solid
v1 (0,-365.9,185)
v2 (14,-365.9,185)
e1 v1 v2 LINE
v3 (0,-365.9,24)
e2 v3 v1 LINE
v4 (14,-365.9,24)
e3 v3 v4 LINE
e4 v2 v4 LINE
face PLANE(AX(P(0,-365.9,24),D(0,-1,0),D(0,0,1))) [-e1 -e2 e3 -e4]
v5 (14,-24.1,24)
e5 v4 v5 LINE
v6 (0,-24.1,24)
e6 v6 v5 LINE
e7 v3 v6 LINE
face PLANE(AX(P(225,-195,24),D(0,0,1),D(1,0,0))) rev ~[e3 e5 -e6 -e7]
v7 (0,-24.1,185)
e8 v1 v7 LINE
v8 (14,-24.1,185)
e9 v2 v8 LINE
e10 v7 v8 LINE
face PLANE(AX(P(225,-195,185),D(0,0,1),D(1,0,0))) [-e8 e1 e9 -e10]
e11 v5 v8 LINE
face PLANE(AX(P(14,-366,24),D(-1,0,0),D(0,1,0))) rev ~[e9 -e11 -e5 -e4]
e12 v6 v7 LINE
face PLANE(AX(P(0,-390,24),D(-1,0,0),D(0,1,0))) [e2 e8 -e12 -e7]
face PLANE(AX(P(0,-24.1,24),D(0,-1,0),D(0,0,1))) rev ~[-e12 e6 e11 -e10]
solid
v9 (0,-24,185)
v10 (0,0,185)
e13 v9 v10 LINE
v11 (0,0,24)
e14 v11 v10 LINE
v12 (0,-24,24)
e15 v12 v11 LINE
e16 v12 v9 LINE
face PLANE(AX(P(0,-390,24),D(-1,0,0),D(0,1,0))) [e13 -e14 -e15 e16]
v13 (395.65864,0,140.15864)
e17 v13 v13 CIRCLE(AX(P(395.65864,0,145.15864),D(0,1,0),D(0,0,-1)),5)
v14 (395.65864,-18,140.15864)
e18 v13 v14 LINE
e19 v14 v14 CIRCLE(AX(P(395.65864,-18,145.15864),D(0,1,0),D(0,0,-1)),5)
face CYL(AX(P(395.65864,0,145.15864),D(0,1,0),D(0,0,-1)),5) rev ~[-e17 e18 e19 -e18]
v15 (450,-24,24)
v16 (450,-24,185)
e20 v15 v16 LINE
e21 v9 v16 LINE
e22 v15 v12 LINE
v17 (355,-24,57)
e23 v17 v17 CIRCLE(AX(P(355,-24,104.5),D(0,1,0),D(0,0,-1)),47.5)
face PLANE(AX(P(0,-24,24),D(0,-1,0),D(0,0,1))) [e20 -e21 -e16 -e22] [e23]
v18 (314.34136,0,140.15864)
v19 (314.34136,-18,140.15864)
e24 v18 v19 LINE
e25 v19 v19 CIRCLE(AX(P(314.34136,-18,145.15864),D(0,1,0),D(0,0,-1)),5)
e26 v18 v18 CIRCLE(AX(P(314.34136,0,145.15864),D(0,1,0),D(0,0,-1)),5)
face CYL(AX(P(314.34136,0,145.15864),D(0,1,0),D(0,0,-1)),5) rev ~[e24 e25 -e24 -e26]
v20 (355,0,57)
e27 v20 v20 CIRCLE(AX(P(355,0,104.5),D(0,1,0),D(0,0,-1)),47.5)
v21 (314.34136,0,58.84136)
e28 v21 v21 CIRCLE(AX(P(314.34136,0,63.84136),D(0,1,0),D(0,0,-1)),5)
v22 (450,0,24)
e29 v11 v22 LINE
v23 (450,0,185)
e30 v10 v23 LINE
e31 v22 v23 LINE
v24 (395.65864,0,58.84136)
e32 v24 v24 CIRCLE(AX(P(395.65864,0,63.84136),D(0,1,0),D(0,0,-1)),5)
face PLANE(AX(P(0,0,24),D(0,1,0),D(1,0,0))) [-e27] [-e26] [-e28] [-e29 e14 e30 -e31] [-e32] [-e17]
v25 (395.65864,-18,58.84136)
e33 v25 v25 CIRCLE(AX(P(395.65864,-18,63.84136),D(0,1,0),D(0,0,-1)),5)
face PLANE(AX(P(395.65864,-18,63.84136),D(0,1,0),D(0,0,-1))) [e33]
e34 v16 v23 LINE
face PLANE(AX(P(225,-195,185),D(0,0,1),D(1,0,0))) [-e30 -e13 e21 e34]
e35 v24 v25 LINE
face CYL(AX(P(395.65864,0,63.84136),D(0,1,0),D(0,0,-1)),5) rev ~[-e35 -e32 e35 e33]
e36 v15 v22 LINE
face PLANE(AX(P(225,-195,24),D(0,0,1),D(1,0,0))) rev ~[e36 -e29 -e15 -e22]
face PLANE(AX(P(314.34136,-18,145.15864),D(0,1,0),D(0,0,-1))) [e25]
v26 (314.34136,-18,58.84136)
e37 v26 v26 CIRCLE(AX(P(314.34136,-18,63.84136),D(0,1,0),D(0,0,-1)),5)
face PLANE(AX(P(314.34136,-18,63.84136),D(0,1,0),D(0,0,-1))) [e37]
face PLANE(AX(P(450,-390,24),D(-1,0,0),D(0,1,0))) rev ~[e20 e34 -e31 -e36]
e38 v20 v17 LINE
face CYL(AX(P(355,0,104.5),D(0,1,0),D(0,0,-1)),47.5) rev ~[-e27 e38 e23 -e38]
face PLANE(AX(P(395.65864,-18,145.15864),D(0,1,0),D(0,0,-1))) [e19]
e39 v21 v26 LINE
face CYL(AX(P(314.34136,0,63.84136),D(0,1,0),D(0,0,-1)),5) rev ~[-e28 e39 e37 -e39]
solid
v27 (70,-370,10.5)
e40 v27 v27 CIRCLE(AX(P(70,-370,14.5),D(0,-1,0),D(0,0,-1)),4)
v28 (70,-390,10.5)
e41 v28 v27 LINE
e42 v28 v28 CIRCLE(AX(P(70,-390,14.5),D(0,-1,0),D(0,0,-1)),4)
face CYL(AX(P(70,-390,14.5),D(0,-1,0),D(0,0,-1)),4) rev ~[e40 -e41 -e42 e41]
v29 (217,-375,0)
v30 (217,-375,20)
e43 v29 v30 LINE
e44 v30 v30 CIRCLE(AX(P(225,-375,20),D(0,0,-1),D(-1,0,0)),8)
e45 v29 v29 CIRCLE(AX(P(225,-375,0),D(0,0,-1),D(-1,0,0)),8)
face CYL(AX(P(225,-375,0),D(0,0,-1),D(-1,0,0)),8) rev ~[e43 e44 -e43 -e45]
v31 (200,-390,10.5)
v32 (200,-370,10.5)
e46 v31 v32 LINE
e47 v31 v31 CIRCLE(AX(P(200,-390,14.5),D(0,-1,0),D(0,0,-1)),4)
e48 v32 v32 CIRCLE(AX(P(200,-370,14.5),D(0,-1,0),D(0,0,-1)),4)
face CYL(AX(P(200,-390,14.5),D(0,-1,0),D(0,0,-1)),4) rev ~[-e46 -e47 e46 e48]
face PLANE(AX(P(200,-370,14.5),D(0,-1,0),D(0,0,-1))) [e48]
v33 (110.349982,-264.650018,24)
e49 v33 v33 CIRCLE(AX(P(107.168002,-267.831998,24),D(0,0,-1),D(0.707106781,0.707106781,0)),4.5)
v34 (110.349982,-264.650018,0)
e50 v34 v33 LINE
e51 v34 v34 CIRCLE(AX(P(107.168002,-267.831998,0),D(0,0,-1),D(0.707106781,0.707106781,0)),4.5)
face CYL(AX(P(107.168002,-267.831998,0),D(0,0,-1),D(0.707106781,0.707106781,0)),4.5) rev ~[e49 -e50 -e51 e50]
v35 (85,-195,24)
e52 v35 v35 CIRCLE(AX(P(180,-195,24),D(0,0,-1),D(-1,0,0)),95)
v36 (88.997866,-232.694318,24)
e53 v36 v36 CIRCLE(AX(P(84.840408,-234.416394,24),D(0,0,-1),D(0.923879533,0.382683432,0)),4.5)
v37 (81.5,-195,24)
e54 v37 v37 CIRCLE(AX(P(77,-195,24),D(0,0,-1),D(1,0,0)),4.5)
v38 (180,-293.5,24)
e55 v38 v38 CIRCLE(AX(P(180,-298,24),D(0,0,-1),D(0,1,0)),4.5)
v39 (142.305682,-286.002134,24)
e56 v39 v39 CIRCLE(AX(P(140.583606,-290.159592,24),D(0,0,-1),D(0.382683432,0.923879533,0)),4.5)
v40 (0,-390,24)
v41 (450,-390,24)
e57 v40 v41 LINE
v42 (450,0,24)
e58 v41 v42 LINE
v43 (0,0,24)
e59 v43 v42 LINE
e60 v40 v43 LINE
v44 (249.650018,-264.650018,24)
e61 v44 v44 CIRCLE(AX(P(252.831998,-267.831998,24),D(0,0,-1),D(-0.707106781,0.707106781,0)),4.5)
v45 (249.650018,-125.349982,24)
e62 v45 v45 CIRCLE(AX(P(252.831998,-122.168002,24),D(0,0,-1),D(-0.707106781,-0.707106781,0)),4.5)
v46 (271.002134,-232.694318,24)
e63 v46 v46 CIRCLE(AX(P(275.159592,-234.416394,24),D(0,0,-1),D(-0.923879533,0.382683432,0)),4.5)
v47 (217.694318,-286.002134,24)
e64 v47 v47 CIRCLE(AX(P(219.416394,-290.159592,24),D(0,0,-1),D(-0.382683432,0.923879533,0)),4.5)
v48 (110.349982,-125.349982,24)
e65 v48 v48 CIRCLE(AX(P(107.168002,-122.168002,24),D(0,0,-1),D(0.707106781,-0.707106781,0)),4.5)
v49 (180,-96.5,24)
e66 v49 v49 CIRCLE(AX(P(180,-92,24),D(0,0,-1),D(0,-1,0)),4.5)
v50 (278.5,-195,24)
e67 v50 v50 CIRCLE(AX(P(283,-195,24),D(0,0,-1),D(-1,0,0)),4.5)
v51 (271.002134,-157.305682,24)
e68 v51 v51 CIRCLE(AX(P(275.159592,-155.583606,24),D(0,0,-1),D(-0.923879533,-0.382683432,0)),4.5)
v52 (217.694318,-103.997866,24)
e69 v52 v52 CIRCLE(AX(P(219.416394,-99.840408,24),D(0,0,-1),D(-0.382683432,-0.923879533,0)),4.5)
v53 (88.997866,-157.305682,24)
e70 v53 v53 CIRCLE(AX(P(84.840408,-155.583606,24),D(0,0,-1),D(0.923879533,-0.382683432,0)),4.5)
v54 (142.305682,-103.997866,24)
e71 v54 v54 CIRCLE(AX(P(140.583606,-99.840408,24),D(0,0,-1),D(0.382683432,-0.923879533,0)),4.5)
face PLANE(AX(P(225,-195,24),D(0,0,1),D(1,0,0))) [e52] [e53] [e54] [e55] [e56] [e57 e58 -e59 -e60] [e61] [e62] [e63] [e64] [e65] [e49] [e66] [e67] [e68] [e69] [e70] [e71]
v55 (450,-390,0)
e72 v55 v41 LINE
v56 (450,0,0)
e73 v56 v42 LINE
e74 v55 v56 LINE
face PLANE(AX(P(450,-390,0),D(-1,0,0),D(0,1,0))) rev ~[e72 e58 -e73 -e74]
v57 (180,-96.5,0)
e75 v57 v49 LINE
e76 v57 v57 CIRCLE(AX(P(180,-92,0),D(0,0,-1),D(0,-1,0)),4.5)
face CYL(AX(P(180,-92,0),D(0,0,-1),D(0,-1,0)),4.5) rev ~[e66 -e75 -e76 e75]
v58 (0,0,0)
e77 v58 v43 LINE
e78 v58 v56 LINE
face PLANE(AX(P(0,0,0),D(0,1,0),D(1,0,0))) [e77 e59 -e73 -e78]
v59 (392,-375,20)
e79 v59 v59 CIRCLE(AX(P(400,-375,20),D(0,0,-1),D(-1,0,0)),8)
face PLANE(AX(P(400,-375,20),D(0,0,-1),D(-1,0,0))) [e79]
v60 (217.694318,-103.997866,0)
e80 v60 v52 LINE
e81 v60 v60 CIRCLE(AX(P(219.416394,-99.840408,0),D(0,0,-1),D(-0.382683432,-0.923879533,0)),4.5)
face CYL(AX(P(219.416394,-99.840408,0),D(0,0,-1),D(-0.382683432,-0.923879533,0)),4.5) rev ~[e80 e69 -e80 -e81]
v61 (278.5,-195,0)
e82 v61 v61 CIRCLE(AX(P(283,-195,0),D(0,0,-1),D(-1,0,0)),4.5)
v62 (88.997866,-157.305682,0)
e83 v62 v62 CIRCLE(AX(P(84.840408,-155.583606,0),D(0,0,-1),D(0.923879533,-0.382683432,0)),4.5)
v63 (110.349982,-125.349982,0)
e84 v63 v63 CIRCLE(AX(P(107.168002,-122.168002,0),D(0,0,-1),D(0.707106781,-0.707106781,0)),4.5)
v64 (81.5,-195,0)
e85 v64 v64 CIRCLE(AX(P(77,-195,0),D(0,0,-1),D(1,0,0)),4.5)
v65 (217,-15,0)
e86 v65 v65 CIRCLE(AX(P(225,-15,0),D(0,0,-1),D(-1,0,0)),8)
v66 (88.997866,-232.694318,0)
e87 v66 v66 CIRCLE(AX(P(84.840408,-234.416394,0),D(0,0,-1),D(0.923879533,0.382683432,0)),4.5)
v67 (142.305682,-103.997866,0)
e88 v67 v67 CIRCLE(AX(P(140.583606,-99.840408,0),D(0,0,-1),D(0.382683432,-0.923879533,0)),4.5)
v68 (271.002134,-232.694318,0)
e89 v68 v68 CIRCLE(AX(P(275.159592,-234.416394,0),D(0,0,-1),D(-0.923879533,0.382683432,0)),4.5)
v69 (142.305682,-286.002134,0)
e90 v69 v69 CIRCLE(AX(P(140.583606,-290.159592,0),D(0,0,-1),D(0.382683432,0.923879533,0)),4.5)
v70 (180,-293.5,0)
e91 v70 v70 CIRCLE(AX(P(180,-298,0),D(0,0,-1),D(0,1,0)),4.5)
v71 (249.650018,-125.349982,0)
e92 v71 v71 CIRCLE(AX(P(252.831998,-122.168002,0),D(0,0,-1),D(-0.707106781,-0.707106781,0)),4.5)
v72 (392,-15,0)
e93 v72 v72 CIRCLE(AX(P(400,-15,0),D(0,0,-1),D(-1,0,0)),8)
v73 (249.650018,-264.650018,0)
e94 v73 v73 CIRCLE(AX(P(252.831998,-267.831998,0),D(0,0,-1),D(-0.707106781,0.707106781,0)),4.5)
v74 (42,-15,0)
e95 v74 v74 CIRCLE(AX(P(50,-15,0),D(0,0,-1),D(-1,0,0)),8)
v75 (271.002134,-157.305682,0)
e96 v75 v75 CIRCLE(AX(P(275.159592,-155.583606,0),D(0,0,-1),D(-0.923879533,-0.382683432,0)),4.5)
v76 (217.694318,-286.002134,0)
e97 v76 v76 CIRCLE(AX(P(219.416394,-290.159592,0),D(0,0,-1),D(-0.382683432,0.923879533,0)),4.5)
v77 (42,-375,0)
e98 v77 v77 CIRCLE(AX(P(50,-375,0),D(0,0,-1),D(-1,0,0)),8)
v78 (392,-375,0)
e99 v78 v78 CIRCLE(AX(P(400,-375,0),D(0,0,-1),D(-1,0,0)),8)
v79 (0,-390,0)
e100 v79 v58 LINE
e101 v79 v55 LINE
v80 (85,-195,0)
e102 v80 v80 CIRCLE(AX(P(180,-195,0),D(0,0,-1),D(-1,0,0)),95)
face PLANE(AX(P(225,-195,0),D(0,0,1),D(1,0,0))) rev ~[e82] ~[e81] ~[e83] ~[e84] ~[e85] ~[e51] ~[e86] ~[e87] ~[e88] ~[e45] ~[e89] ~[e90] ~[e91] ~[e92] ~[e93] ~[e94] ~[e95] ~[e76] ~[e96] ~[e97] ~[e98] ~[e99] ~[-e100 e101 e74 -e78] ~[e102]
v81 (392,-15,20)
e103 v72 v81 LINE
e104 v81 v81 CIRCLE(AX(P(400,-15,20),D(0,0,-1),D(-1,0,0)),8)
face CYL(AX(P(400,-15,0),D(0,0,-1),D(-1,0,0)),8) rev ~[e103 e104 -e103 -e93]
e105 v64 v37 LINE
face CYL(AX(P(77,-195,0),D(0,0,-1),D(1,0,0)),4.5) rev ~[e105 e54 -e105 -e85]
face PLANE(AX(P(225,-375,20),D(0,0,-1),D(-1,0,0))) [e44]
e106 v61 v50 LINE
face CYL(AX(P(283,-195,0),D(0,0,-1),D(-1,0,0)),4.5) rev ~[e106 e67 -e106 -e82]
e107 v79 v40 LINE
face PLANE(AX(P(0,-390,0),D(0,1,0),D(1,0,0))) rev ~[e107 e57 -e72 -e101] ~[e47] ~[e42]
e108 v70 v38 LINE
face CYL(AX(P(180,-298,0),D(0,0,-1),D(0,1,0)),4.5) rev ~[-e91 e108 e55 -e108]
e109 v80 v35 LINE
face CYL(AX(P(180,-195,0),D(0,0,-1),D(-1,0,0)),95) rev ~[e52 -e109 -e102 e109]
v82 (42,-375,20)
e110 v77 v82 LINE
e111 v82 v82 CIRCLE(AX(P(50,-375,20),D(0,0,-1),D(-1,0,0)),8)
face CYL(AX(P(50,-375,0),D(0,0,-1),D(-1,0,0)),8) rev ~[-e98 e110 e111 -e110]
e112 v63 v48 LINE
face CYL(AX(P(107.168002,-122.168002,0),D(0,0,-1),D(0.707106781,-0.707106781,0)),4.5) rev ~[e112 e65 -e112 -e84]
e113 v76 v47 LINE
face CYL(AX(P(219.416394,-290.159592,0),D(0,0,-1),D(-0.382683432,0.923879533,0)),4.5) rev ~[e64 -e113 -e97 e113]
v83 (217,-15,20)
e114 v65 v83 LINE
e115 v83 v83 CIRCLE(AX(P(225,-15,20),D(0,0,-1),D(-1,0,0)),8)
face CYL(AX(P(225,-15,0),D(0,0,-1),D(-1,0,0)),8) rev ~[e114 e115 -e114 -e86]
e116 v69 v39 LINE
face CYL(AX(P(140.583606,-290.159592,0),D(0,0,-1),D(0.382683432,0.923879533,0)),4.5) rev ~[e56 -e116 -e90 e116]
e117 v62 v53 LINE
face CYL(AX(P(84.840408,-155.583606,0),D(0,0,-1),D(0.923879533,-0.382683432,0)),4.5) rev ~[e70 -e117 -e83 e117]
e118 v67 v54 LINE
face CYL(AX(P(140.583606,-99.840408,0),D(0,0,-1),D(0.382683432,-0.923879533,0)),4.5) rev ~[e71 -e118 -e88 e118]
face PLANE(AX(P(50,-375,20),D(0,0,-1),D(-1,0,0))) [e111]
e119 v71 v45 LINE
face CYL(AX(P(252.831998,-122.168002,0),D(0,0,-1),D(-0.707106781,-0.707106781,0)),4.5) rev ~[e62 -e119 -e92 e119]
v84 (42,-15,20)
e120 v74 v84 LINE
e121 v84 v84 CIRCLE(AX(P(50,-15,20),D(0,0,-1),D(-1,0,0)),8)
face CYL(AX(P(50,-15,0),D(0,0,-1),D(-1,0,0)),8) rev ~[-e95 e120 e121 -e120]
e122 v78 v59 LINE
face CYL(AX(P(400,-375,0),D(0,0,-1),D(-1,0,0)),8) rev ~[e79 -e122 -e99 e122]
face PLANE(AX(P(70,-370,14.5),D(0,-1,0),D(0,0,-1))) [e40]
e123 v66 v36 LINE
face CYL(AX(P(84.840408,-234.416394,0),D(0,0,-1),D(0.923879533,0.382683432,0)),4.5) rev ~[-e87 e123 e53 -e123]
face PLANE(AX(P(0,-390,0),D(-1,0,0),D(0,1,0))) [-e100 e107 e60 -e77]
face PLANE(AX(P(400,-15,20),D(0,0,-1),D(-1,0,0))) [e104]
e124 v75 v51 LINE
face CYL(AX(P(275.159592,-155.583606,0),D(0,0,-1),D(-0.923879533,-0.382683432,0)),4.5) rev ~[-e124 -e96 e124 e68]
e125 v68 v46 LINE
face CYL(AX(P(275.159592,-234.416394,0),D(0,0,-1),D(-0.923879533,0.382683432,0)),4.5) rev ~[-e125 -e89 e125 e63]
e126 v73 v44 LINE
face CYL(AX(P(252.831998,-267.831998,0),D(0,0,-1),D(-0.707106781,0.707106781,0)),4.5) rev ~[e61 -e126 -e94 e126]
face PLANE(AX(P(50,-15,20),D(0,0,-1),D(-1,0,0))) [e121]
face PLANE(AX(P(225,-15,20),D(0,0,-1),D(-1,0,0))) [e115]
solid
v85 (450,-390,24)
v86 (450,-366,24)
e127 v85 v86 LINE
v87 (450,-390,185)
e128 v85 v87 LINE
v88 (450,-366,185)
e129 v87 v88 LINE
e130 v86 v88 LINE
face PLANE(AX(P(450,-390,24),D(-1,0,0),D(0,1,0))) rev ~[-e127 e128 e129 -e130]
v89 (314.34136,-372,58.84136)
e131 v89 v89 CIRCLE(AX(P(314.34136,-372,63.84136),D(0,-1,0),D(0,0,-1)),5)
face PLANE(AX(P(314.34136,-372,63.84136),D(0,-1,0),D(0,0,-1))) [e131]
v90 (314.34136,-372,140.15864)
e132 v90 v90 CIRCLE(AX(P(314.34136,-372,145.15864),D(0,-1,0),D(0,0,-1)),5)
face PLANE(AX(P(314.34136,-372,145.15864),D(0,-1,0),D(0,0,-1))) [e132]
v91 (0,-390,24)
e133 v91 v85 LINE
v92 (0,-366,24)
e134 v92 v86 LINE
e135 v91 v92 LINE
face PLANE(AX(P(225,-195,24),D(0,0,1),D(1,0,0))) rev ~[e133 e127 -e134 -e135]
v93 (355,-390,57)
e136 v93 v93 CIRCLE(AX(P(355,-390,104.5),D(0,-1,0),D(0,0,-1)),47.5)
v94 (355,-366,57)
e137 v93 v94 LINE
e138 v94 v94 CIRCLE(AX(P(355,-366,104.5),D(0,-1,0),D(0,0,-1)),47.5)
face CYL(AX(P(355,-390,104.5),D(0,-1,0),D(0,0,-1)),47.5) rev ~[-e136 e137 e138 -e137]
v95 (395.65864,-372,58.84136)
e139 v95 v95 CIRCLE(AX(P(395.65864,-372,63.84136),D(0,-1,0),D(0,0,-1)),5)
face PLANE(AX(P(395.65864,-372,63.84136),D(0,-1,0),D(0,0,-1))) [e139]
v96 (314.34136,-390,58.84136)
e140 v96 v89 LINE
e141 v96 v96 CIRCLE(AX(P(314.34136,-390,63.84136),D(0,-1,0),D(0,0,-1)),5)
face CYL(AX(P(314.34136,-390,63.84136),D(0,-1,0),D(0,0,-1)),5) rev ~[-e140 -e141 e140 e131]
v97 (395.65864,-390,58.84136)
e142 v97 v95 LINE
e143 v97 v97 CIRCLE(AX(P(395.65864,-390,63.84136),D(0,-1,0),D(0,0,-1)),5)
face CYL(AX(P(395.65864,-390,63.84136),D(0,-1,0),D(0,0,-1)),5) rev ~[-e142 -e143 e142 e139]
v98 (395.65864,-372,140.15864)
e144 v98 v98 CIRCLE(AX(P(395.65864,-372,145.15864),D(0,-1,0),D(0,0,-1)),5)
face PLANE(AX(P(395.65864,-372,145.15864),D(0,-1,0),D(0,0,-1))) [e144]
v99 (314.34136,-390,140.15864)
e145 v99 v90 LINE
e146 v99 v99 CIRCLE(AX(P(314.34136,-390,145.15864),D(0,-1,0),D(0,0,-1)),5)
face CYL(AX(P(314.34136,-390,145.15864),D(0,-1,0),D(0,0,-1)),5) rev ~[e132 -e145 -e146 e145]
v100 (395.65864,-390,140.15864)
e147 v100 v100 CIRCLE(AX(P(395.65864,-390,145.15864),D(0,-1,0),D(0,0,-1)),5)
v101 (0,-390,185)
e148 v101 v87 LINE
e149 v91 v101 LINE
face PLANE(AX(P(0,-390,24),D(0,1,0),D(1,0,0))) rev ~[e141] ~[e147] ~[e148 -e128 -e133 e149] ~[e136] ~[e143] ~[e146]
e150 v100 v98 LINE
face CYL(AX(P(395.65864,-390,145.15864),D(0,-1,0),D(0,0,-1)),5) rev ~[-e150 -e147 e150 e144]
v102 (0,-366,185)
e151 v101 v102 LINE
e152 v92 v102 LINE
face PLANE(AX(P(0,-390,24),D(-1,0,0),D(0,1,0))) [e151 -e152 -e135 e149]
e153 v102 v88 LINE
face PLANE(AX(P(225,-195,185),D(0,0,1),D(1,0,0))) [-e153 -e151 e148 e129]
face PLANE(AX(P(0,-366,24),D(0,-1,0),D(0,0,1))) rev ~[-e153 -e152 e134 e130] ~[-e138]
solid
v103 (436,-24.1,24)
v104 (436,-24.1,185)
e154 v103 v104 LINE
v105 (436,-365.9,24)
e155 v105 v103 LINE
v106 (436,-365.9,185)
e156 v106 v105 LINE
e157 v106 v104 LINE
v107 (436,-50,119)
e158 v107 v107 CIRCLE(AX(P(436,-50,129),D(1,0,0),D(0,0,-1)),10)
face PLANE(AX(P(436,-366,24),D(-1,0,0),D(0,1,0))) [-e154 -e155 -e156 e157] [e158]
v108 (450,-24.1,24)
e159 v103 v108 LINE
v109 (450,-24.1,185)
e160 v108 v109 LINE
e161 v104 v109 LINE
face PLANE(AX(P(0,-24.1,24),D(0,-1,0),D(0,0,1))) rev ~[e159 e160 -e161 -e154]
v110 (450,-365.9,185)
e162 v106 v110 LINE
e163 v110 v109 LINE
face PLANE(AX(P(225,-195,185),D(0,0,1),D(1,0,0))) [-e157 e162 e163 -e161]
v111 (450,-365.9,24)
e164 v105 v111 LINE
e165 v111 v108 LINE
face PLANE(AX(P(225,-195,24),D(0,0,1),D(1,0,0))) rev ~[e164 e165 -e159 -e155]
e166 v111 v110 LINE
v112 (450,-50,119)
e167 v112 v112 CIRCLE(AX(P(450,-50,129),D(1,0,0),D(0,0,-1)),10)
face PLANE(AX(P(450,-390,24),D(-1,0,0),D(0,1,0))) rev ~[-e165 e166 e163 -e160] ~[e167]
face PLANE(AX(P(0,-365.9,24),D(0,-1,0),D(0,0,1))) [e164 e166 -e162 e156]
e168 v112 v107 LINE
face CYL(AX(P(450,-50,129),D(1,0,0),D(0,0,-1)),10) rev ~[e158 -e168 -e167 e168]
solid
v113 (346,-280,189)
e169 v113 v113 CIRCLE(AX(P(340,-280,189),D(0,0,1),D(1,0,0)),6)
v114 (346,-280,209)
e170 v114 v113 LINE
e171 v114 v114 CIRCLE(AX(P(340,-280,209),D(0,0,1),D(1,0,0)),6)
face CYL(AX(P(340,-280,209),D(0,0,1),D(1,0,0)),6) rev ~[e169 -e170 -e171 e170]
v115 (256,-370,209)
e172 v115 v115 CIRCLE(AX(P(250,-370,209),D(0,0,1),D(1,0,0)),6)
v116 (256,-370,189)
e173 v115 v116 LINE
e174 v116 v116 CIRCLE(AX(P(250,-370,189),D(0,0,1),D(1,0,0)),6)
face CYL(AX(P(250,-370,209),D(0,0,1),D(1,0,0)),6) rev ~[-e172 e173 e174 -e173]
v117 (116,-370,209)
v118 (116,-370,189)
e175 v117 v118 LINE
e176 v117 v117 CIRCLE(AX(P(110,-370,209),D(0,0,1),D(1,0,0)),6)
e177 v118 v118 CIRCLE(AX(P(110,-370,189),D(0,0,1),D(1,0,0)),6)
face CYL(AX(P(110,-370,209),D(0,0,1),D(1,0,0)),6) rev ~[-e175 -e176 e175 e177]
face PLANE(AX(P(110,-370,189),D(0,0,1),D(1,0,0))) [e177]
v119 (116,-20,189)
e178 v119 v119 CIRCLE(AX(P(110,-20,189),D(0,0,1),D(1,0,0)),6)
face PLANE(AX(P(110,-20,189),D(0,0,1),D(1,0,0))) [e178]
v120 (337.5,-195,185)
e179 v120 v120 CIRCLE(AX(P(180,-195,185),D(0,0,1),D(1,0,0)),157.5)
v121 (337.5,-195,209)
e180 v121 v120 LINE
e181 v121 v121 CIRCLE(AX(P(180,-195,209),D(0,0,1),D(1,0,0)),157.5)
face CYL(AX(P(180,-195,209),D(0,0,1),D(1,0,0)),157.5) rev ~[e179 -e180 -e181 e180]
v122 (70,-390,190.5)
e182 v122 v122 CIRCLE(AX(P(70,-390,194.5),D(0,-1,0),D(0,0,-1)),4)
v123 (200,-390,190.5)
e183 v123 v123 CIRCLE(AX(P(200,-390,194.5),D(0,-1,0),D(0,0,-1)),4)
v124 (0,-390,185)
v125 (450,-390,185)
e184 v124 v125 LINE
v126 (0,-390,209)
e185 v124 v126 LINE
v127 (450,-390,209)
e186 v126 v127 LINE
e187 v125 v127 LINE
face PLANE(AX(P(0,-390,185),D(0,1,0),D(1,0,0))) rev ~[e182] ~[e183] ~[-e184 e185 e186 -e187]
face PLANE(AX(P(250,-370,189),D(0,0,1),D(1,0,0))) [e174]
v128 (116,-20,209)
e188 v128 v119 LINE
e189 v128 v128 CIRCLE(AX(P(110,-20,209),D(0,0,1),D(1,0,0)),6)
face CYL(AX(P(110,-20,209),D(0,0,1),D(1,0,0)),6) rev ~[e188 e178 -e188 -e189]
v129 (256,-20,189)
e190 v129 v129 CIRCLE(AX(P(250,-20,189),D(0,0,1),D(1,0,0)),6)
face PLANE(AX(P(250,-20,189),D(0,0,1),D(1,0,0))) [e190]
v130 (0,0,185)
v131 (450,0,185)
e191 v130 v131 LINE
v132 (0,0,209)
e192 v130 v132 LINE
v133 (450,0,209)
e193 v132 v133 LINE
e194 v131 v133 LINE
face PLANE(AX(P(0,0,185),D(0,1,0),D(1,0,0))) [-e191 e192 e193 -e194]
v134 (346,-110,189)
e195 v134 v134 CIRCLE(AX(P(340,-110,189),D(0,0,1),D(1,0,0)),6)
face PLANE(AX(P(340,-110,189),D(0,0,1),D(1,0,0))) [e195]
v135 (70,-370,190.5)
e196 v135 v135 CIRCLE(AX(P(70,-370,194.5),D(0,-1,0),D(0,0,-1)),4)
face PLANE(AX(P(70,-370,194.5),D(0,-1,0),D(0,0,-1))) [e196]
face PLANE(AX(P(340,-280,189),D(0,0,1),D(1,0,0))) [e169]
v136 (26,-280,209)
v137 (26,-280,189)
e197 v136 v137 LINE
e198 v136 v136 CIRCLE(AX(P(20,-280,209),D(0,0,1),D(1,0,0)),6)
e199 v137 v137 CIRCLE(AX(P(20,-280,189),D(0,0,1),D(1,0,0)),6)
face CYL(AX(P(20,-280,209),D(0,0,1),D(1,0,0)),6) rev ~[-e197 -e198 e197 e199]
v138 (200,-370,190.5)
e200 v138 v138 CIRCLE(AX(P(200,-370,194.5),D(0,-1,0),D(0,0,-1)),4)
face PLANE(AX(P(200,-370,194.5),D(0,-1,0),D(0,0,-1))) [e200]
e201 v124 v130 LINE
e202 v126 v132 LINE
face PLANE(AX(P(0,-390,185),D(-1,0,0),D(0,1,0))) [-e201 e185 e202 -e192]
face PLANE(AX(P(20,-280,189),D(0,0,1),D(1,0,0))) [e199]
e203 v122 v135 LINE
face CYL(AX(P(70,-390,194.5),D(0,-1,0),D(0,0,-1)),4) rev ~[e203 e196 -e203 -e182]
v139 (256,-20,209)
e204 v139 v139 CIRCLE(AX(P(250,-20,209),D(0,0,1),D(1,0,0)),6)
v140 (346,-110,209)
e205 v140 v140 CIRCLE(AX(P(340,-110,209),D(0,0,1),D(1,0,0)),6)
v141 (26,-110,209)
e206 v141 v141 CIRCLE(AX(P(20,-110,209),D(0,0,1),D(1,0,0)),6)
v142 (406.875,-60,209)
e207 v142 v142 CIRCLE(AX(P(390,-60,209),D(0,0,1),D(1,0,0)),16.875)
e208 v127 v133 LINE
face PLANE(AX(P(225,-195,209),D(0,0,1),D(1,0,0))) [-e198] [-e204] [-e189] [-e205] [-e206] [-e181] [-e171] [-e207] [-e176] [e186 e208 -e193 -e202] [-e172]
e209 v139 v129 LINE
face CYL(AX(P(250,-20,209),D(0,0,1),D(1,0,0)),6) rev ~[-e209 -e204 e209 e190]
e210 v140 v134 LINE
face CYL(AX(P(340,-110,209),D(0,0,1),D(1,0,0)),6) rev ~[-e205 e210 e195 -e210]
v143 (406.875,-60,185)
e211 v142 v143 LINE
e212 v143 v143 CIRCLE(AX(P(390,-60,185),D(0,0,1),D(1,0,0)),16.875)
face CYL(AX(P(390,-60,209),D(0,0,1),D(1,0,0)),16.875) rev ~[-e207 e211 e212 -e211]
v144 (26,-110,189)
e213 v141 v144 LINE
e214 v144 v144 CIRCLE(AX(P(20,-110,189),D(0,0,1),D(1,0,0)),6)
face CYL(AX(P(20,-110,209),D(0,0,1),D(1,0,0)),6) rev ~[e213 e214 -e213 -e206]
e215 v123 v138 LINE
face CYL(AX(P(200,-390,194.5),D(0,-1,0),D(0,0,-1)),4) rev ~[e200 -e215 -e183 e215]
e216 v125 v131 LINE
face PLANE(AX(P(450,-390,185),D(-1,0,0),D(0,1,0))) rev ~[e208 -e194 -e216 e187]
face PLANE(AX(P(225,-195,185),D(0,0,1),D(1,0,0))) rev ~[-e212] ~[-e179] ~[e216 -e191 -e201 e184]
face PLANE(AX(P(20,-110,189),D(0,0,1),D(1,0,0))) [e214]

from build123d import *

# Parameters (mm, degrees)
SKETCH_1_W               = 450
SKETCH_1_H               = 390
EXTRUDE_1_DEPTH          = 24
SKETCH_2_W               = 450
SKETCH_2_H               = 390
SKETCH_2_W_2             = 402
SKETCH_2_H_2             = 342
EXTRUDE_2_DEPTH          = 161
SKETCH_3_W               = 450
SKETCH_3_H               = 390
EXTRUDE_3_DEPTH          = 24
SKETCH_6_R               = 95
CUT_EXTRUDE_3_DEPTH      = 33
SKETCH_4_R               = 157.5
CUT_EXTRUDE_5_DEPTH      = 43
SKETCH_5_R               = 47.5
CUT_EXTRUDE_6_DEPTH      = 43
SKETCH_10_R              = 5
CUT_EXTRUDE_7_DEPTH      = 18
SKETCH_11_W              = 161
SKETCH_11_H              = 0.1
CUT_EXTRUDE_8_DEPTH      = 632.09508
SKETCH_12_R              = 47.5
CUT_EXTRUDE_9_DEPTH      = 40.2
SKETCH_13_R              = 5
CUT_EXTRUDE_10_DEPTH     = 18
SKETCH_14_W              = 10
SKETCH_14_H              = 341.9
CUT_EXTRUDE_12_DEPTH     = 161
SKETCH_17_R              = 4
CUT_EXTRUDE_14_DEPTH     = 20
SKETCH_19_R              = 8
CUT_EXTRUDE_18_DEPTH     = 20
SKETCH_20_R              = 6
CUT_EXTRUDE_19_DEPTH     = 20
SKETCH_21_R              = 10
CUT_EXTRUDE_20_DEPTH     = 35
SKETCH_22_R              = 16.875
CUT_EXTRUDE_21_DEPTH     = 40
SKETCH_23_R              = 4.5
CUT_EXTRUDE_22_DEPTH     = 632.09508
PATTERN_CIRCULAR_1_COUNT = 16


with BuildPart() as part:
    # 草图1 → 拉伸1 (new body)
    with BuildSketch(Plane.XY):
        with Locations((225, -195)):
            Rectangle(SKETCH_1_W, SKETCH_1_H)
    extrude(amount=EXTRUDE_1_DEPTH)

    # 草图6 → 切除-拉伸3 (cut)
    with BuildSketch(Plane(origin=(0, 0, 0), x_dir=(-1, 0, 0), z_dir=(0, 0, -1))):
        with Locations((-180, -195)):
            Circle(SKETCH_6_R)
    extrude(amount=-CUT_EXTRUDE_3_DEPTH, mode=Mode.SUBTRACT)


with BuildPart() as body_2:
    # 草图2 → 拉伸2 (new body)
    with BuildSketch(Plane.XY.offset(24)):
        with Locations((225, -195)):
            Rectangle(SKETCH_2_W, SKETCH_2_H)
        with Locations((225, -195)):
            Rectangle(SKETCH_2_W_2, SKETCH_2_H_2, mode=Mode.SUBTRACT)
    extrude(amount=EXTRUDE_2_DEPTH)

    # 草图5 → 切除-拉伸6 (cut)
    with BuildSketch(Plane.XZ.offset(390)):
        with Locations(Location((355, 104.5, 0), (0, 0, 270))):
            Circle(SKETCH_5_R)
    extrude(amount=-CUT_EXTRUDE_6_DEPTH, mode=Mode.SUBTRACT)

    # 草图10 → 切除-拉伸7 (cut)
    with BuildSketch(Plane.XZ.offset(390)):
        with Locations(Location((395.658639918, 145.158639918, 0), (0, 0, 270))):
            Circle(SKETCH_10_R)
        with Locations(Location((395.658639918, 63.841360082, 0), (0, 0, 270))):
            Circle(SKETCH_10_R)
        with Locations(Location((314.341360082, 63.841360082, 0), (0, 0, 270))):
            Circle(SKETCH_10_R)
        with Locations(Location((314.341360082, 145.158639918, 0), (0, 0, 270))):
            Circle(SKETCH_10_R)
    extrude(amount=-CUT_EXTRUDE_7_DEPTH, mode=Mode.SUBTRACT)

    # 草图11 → 切除-拉伸8 (cut, through all)
    with BuildSketch(Plane.ZY):
        with Locations((104.5, -24.05)):
            Rectangle(SKETCH_11_W, SKETCH_11_H)
        with Locations((104.5, -365.95)):
            Rectangle(SKETCH_11_W, SKETCH_11_H)
    extrude(amount=-CUT_EXTRUDE_8_DEPTH, mode=Mode.SUBTRACT)


with BuildPart() as body_3:
    # 草图3 → 拉伸3 (new body)
    with BuildSketch(Plane.XY.offset(185)):
        with Locations((225, -195)):
            Rectangle(SKETCH_3_W, SKETCH_3_H)
    extrude(amount=EXTRUDE_3_DEPTH)

    # 草图4 → 切除-拉伸5 (cut)
    with BuildSketch(Plane.XY.offset(209)):
        with Locations((180, -195)):
            Circle(SKETCH_4_R)
    extrude(amount=-CUT_EXTRUDE_5_DEPTH, mode=Mode.SUBTRACT)


with BuildPart() as cut_extrude_8_piece_1:
    # of the separate pieces the step leaves, piece 1, a body of its own (cut_extrude_8_pieces)
    add(body_2.part.solids().sort_by_distance((0, 0, 24))[0])

    # 草图12 → 切除-拉伸9 (cut)
    with BuildSketch(Plane(origin=(0, 0, 0), x_dir=(1, 0, 0), z_dir=(0, 1, 0))):
        with Locations(Location((355, -104.5, 0), (0, 0, 90))):
            Circle(SKETCH_12_R)
    extrude(amount=-CUT_EXTRUDE_9_DEPTH, mode=Mode.SUBTRACT)

    # 草图13 → 切除-拉伸10 (cut)
    with BuildSketch(Plane(origin=(0, 0, 0), x_dir=(1, 0, 0), z_dir=(0, 1, 0))):
        with Locations(Location((395.658639918, -145.158639918, 0), (0, 0, 90))):
            Circle(SKETCH_13_R)
        with Locations(Location((314.341360082, -145.158639918, 0), (0, 0, 90))):
            Circle(SKETCH_13_R)
        with Locations(Location((395.658639918, -63.841360082, 0), (0, 0, 90))):
            Circle(SKETCH_13_R)
        with Locations(Location((314.341360082, -63.841360082, 0), (0, 0, 90))):
            Circle(SKETCH_13_R)
    extrude(amount=-CUT_EXTRUDE_10_DEPTH, mode=Mode.SUBTRACT)


with BuildPart() as cut_extrude_8_piece_2:
    # of the separate pieces the step leaves, piece 2, a body of its own (cut_extrude_8_pieces)
    add(body_2.part.solids().sort_by_distance((0, -390, 24))[0])


with BuildPart() as cut_extrude_8_piece_3:
    # of the separate pieces the step leaves, piece 3, a body of its own (cut_extrude_8_pieces)
    add(body_2.part.solids().sort_by_distance((450, -24.1, 24))[0])


with BuildPart() as cut_extrude_8_piece_4:
    # of the separate pieces the step leaves, piece 4, a body of its own (cut_extrude_8_pieces)
    add(body_2.part.solids().sort_by_distance((0, -365.9, 24))[0])


with BuildPart() as cut_extrude_12_tool:
    # 草图14 → 切除-拉伸12 (new body)
    with BuildSketch(Plane(origin=(0, 0, 24), x_dir=(-1, 0, 0), z_dir=(0, 0, -1))):
        with Locations((-19, -195.05)):
            Rectangle(SKETCH_14_W, SKETCH_14_H)
        with Locations((-431, -195.05)):
            Rectangle(SKETCH_14_W, SKETCH_14_H)
    extrude(amount=-CUT_EXTRUDE_12_DEPTH)


with BuildPart() as cut_extrude_8_piece_3_1:
    add(cut_extrude_8_piece_3.part)

    # 切除-拉伸12: cut by cut_extrude_12_tool
    add(cut_extrude_12_tool.part, mode=Mode.SUBTRACT)

    # 草图21 → 切除-拉伸20 (cut)
    with BuildSketch(Plane(origin=(450, 0, 0), x_dir=(0, 0, -1), z_dir=(1, 0, 0))):
        with Locations((-129, -50)):
            Circle(SKETCH_21_R)
    extrude(amount=-CUT_EXTRUDE_20_DEPTH, mode=Mode.SUBTRACT)


with BuildPart() as cut_extrude_8_piece_4_1:
    add(cut_extrude_8_piece_4.part)

    # 切除-拉伸12: cut by cut_extrude_12_tool
    add(cut_extrude_12_tool.part, mode=Mode.SUBTRACT)


with BuildPart() as cut_extrude_14_tool:
    # 草图17 → 切除-拉伸14 (new body)
    with BuildSketch(Plane.XZ.offset(390)):
        with Locations(Location((70, 194.5, 0), (0, 0, 270))):
            Circle(SKETCH_17_R)
        with Locations(Location((200, 194.5, 0), (0, 0, 270))):
            Circle(SKETCH_17_R)
        with Locations(Location((70, 14.5, 0), (0, 0, 270))):
            Circle(SKETCH_17_R)
        with Locations(Location((200, 14.5, 0), (0, 0, 270))):
            Circle(SKETCH_17_R)
    extrude(amount=-CUT_EXTRUDE_14_DEPTH)


with BuildPart() as part_1:
    add(part.part)

    # 切除-拉伸14: cut by cut_extrude_14_tool
    add(cut_extrude_14_tool.part, mode=Mode.SUBTRACT)

    # 草图19 → 切除-拉伸18 (cut)
    with BuildSketch(Plane(origin=(0, 0, 0), x_dir=(-1, 0, 0), z_dir=(0, 0, -1))):
        with Locations((-400, -15)):
            Circle(SKETCH_19_R)
        with Locations((-225, -15)):
            Circle(SKETCH_19_R)
        with Locations((-50, -15)):
            Circle(SKETCH_19_R)
        with Locations((-400, -375)):
            Circle(SKETCH_19_R)
        with Locations((-225, -375)):
            Circle(SKETCH_19_R)
        with Locations((-50, -375)):
            Circle(SKETCH_19_R)
    extrude(amount=-CUT_EXTRUDE_18_DEPTH, mode=Mode.SUBTRACT)

    # 草图23 → 切除-拉伸22 (cut, through all)
    with BuildSketch(Plane(origin=(0, 0, 0), x_dir=(-1, 0, 0), z_dir=(0, 0, -1))):
        with Locations((-283, -195)):
            Circle(SKETCH_23_R)
    cut_extrude_22 = extrude(amount=-CUT_EXTRUDE_22_DEPTH, mode=Mode.SUBTRACT)

    # 阵列(圆周)1: 切除-拉伸22 ×16 about axis
    pattern_circular_1_axis = Axis((180, -195, 0), (0, 0, 1))
    for i in range(1, PATTERN_CIRCULAR_1_COUNT):
        add(cut_extrude_22.rotate(pattern_circular_1_axis, i * 360 / PATTERN_CIRCULAR_1_COUNT), mode=Mode.SUBTRACT)


with BuildPart() as body_3_1:
    add(body_3.part)

    # 切除-拉伸14: cut by cut_extrude_14_tool
    add(cut_extrude_14_tool.part, mode=Mode.SUBTRACT)

    # 草图20 → 切除-拉伸19 (cut)
    with BuildSketch(Plane.XY.offset(209)):
        with Locations((110, -20)):
            Circle(SKETCH_20_R)
        with Locations((250, -20)):
            Circle(SKETCH_20_R)
        with Locations((110, -370)):
            Circle(SKETCH_20_R)
        with Locations((250, -370)):
            Circle(SKETCH_20_R)
        with Locations((20, -110)):
            Circle(SKETCH_20_R)
        with Locations((340, -110)):
            Circle(SKETCH_20_R)
        with Locations((20, -280)):
            Circle(SKETCH_20_R)
        with Locations((340, -280)):
            Circle(SKETCH_20_R)
    extrude(amount=-CUT_EXTRUDE_19_DEPTH, mode=Mode.SUBTRACT)

    # 草图22 → 切除-拉伸21 (cut)
    with BuildSketch(Plane.XY.offset(209)):
        with Locations((390, -60)):
            Circle(SKETCH_22_R)
    extrude(amount=-CUT_EXTRUDE_21_DEPTH, mode=Mode.SUBTRACT)


solid = Compound([cut_extrude_8_piece_1.part, cut_extrude_8_piece_2.part, cut_extrude_8_piece_3_1.part, cut_extrude_8_piece_4_1.part, part_1.part, body_3_1.part])
